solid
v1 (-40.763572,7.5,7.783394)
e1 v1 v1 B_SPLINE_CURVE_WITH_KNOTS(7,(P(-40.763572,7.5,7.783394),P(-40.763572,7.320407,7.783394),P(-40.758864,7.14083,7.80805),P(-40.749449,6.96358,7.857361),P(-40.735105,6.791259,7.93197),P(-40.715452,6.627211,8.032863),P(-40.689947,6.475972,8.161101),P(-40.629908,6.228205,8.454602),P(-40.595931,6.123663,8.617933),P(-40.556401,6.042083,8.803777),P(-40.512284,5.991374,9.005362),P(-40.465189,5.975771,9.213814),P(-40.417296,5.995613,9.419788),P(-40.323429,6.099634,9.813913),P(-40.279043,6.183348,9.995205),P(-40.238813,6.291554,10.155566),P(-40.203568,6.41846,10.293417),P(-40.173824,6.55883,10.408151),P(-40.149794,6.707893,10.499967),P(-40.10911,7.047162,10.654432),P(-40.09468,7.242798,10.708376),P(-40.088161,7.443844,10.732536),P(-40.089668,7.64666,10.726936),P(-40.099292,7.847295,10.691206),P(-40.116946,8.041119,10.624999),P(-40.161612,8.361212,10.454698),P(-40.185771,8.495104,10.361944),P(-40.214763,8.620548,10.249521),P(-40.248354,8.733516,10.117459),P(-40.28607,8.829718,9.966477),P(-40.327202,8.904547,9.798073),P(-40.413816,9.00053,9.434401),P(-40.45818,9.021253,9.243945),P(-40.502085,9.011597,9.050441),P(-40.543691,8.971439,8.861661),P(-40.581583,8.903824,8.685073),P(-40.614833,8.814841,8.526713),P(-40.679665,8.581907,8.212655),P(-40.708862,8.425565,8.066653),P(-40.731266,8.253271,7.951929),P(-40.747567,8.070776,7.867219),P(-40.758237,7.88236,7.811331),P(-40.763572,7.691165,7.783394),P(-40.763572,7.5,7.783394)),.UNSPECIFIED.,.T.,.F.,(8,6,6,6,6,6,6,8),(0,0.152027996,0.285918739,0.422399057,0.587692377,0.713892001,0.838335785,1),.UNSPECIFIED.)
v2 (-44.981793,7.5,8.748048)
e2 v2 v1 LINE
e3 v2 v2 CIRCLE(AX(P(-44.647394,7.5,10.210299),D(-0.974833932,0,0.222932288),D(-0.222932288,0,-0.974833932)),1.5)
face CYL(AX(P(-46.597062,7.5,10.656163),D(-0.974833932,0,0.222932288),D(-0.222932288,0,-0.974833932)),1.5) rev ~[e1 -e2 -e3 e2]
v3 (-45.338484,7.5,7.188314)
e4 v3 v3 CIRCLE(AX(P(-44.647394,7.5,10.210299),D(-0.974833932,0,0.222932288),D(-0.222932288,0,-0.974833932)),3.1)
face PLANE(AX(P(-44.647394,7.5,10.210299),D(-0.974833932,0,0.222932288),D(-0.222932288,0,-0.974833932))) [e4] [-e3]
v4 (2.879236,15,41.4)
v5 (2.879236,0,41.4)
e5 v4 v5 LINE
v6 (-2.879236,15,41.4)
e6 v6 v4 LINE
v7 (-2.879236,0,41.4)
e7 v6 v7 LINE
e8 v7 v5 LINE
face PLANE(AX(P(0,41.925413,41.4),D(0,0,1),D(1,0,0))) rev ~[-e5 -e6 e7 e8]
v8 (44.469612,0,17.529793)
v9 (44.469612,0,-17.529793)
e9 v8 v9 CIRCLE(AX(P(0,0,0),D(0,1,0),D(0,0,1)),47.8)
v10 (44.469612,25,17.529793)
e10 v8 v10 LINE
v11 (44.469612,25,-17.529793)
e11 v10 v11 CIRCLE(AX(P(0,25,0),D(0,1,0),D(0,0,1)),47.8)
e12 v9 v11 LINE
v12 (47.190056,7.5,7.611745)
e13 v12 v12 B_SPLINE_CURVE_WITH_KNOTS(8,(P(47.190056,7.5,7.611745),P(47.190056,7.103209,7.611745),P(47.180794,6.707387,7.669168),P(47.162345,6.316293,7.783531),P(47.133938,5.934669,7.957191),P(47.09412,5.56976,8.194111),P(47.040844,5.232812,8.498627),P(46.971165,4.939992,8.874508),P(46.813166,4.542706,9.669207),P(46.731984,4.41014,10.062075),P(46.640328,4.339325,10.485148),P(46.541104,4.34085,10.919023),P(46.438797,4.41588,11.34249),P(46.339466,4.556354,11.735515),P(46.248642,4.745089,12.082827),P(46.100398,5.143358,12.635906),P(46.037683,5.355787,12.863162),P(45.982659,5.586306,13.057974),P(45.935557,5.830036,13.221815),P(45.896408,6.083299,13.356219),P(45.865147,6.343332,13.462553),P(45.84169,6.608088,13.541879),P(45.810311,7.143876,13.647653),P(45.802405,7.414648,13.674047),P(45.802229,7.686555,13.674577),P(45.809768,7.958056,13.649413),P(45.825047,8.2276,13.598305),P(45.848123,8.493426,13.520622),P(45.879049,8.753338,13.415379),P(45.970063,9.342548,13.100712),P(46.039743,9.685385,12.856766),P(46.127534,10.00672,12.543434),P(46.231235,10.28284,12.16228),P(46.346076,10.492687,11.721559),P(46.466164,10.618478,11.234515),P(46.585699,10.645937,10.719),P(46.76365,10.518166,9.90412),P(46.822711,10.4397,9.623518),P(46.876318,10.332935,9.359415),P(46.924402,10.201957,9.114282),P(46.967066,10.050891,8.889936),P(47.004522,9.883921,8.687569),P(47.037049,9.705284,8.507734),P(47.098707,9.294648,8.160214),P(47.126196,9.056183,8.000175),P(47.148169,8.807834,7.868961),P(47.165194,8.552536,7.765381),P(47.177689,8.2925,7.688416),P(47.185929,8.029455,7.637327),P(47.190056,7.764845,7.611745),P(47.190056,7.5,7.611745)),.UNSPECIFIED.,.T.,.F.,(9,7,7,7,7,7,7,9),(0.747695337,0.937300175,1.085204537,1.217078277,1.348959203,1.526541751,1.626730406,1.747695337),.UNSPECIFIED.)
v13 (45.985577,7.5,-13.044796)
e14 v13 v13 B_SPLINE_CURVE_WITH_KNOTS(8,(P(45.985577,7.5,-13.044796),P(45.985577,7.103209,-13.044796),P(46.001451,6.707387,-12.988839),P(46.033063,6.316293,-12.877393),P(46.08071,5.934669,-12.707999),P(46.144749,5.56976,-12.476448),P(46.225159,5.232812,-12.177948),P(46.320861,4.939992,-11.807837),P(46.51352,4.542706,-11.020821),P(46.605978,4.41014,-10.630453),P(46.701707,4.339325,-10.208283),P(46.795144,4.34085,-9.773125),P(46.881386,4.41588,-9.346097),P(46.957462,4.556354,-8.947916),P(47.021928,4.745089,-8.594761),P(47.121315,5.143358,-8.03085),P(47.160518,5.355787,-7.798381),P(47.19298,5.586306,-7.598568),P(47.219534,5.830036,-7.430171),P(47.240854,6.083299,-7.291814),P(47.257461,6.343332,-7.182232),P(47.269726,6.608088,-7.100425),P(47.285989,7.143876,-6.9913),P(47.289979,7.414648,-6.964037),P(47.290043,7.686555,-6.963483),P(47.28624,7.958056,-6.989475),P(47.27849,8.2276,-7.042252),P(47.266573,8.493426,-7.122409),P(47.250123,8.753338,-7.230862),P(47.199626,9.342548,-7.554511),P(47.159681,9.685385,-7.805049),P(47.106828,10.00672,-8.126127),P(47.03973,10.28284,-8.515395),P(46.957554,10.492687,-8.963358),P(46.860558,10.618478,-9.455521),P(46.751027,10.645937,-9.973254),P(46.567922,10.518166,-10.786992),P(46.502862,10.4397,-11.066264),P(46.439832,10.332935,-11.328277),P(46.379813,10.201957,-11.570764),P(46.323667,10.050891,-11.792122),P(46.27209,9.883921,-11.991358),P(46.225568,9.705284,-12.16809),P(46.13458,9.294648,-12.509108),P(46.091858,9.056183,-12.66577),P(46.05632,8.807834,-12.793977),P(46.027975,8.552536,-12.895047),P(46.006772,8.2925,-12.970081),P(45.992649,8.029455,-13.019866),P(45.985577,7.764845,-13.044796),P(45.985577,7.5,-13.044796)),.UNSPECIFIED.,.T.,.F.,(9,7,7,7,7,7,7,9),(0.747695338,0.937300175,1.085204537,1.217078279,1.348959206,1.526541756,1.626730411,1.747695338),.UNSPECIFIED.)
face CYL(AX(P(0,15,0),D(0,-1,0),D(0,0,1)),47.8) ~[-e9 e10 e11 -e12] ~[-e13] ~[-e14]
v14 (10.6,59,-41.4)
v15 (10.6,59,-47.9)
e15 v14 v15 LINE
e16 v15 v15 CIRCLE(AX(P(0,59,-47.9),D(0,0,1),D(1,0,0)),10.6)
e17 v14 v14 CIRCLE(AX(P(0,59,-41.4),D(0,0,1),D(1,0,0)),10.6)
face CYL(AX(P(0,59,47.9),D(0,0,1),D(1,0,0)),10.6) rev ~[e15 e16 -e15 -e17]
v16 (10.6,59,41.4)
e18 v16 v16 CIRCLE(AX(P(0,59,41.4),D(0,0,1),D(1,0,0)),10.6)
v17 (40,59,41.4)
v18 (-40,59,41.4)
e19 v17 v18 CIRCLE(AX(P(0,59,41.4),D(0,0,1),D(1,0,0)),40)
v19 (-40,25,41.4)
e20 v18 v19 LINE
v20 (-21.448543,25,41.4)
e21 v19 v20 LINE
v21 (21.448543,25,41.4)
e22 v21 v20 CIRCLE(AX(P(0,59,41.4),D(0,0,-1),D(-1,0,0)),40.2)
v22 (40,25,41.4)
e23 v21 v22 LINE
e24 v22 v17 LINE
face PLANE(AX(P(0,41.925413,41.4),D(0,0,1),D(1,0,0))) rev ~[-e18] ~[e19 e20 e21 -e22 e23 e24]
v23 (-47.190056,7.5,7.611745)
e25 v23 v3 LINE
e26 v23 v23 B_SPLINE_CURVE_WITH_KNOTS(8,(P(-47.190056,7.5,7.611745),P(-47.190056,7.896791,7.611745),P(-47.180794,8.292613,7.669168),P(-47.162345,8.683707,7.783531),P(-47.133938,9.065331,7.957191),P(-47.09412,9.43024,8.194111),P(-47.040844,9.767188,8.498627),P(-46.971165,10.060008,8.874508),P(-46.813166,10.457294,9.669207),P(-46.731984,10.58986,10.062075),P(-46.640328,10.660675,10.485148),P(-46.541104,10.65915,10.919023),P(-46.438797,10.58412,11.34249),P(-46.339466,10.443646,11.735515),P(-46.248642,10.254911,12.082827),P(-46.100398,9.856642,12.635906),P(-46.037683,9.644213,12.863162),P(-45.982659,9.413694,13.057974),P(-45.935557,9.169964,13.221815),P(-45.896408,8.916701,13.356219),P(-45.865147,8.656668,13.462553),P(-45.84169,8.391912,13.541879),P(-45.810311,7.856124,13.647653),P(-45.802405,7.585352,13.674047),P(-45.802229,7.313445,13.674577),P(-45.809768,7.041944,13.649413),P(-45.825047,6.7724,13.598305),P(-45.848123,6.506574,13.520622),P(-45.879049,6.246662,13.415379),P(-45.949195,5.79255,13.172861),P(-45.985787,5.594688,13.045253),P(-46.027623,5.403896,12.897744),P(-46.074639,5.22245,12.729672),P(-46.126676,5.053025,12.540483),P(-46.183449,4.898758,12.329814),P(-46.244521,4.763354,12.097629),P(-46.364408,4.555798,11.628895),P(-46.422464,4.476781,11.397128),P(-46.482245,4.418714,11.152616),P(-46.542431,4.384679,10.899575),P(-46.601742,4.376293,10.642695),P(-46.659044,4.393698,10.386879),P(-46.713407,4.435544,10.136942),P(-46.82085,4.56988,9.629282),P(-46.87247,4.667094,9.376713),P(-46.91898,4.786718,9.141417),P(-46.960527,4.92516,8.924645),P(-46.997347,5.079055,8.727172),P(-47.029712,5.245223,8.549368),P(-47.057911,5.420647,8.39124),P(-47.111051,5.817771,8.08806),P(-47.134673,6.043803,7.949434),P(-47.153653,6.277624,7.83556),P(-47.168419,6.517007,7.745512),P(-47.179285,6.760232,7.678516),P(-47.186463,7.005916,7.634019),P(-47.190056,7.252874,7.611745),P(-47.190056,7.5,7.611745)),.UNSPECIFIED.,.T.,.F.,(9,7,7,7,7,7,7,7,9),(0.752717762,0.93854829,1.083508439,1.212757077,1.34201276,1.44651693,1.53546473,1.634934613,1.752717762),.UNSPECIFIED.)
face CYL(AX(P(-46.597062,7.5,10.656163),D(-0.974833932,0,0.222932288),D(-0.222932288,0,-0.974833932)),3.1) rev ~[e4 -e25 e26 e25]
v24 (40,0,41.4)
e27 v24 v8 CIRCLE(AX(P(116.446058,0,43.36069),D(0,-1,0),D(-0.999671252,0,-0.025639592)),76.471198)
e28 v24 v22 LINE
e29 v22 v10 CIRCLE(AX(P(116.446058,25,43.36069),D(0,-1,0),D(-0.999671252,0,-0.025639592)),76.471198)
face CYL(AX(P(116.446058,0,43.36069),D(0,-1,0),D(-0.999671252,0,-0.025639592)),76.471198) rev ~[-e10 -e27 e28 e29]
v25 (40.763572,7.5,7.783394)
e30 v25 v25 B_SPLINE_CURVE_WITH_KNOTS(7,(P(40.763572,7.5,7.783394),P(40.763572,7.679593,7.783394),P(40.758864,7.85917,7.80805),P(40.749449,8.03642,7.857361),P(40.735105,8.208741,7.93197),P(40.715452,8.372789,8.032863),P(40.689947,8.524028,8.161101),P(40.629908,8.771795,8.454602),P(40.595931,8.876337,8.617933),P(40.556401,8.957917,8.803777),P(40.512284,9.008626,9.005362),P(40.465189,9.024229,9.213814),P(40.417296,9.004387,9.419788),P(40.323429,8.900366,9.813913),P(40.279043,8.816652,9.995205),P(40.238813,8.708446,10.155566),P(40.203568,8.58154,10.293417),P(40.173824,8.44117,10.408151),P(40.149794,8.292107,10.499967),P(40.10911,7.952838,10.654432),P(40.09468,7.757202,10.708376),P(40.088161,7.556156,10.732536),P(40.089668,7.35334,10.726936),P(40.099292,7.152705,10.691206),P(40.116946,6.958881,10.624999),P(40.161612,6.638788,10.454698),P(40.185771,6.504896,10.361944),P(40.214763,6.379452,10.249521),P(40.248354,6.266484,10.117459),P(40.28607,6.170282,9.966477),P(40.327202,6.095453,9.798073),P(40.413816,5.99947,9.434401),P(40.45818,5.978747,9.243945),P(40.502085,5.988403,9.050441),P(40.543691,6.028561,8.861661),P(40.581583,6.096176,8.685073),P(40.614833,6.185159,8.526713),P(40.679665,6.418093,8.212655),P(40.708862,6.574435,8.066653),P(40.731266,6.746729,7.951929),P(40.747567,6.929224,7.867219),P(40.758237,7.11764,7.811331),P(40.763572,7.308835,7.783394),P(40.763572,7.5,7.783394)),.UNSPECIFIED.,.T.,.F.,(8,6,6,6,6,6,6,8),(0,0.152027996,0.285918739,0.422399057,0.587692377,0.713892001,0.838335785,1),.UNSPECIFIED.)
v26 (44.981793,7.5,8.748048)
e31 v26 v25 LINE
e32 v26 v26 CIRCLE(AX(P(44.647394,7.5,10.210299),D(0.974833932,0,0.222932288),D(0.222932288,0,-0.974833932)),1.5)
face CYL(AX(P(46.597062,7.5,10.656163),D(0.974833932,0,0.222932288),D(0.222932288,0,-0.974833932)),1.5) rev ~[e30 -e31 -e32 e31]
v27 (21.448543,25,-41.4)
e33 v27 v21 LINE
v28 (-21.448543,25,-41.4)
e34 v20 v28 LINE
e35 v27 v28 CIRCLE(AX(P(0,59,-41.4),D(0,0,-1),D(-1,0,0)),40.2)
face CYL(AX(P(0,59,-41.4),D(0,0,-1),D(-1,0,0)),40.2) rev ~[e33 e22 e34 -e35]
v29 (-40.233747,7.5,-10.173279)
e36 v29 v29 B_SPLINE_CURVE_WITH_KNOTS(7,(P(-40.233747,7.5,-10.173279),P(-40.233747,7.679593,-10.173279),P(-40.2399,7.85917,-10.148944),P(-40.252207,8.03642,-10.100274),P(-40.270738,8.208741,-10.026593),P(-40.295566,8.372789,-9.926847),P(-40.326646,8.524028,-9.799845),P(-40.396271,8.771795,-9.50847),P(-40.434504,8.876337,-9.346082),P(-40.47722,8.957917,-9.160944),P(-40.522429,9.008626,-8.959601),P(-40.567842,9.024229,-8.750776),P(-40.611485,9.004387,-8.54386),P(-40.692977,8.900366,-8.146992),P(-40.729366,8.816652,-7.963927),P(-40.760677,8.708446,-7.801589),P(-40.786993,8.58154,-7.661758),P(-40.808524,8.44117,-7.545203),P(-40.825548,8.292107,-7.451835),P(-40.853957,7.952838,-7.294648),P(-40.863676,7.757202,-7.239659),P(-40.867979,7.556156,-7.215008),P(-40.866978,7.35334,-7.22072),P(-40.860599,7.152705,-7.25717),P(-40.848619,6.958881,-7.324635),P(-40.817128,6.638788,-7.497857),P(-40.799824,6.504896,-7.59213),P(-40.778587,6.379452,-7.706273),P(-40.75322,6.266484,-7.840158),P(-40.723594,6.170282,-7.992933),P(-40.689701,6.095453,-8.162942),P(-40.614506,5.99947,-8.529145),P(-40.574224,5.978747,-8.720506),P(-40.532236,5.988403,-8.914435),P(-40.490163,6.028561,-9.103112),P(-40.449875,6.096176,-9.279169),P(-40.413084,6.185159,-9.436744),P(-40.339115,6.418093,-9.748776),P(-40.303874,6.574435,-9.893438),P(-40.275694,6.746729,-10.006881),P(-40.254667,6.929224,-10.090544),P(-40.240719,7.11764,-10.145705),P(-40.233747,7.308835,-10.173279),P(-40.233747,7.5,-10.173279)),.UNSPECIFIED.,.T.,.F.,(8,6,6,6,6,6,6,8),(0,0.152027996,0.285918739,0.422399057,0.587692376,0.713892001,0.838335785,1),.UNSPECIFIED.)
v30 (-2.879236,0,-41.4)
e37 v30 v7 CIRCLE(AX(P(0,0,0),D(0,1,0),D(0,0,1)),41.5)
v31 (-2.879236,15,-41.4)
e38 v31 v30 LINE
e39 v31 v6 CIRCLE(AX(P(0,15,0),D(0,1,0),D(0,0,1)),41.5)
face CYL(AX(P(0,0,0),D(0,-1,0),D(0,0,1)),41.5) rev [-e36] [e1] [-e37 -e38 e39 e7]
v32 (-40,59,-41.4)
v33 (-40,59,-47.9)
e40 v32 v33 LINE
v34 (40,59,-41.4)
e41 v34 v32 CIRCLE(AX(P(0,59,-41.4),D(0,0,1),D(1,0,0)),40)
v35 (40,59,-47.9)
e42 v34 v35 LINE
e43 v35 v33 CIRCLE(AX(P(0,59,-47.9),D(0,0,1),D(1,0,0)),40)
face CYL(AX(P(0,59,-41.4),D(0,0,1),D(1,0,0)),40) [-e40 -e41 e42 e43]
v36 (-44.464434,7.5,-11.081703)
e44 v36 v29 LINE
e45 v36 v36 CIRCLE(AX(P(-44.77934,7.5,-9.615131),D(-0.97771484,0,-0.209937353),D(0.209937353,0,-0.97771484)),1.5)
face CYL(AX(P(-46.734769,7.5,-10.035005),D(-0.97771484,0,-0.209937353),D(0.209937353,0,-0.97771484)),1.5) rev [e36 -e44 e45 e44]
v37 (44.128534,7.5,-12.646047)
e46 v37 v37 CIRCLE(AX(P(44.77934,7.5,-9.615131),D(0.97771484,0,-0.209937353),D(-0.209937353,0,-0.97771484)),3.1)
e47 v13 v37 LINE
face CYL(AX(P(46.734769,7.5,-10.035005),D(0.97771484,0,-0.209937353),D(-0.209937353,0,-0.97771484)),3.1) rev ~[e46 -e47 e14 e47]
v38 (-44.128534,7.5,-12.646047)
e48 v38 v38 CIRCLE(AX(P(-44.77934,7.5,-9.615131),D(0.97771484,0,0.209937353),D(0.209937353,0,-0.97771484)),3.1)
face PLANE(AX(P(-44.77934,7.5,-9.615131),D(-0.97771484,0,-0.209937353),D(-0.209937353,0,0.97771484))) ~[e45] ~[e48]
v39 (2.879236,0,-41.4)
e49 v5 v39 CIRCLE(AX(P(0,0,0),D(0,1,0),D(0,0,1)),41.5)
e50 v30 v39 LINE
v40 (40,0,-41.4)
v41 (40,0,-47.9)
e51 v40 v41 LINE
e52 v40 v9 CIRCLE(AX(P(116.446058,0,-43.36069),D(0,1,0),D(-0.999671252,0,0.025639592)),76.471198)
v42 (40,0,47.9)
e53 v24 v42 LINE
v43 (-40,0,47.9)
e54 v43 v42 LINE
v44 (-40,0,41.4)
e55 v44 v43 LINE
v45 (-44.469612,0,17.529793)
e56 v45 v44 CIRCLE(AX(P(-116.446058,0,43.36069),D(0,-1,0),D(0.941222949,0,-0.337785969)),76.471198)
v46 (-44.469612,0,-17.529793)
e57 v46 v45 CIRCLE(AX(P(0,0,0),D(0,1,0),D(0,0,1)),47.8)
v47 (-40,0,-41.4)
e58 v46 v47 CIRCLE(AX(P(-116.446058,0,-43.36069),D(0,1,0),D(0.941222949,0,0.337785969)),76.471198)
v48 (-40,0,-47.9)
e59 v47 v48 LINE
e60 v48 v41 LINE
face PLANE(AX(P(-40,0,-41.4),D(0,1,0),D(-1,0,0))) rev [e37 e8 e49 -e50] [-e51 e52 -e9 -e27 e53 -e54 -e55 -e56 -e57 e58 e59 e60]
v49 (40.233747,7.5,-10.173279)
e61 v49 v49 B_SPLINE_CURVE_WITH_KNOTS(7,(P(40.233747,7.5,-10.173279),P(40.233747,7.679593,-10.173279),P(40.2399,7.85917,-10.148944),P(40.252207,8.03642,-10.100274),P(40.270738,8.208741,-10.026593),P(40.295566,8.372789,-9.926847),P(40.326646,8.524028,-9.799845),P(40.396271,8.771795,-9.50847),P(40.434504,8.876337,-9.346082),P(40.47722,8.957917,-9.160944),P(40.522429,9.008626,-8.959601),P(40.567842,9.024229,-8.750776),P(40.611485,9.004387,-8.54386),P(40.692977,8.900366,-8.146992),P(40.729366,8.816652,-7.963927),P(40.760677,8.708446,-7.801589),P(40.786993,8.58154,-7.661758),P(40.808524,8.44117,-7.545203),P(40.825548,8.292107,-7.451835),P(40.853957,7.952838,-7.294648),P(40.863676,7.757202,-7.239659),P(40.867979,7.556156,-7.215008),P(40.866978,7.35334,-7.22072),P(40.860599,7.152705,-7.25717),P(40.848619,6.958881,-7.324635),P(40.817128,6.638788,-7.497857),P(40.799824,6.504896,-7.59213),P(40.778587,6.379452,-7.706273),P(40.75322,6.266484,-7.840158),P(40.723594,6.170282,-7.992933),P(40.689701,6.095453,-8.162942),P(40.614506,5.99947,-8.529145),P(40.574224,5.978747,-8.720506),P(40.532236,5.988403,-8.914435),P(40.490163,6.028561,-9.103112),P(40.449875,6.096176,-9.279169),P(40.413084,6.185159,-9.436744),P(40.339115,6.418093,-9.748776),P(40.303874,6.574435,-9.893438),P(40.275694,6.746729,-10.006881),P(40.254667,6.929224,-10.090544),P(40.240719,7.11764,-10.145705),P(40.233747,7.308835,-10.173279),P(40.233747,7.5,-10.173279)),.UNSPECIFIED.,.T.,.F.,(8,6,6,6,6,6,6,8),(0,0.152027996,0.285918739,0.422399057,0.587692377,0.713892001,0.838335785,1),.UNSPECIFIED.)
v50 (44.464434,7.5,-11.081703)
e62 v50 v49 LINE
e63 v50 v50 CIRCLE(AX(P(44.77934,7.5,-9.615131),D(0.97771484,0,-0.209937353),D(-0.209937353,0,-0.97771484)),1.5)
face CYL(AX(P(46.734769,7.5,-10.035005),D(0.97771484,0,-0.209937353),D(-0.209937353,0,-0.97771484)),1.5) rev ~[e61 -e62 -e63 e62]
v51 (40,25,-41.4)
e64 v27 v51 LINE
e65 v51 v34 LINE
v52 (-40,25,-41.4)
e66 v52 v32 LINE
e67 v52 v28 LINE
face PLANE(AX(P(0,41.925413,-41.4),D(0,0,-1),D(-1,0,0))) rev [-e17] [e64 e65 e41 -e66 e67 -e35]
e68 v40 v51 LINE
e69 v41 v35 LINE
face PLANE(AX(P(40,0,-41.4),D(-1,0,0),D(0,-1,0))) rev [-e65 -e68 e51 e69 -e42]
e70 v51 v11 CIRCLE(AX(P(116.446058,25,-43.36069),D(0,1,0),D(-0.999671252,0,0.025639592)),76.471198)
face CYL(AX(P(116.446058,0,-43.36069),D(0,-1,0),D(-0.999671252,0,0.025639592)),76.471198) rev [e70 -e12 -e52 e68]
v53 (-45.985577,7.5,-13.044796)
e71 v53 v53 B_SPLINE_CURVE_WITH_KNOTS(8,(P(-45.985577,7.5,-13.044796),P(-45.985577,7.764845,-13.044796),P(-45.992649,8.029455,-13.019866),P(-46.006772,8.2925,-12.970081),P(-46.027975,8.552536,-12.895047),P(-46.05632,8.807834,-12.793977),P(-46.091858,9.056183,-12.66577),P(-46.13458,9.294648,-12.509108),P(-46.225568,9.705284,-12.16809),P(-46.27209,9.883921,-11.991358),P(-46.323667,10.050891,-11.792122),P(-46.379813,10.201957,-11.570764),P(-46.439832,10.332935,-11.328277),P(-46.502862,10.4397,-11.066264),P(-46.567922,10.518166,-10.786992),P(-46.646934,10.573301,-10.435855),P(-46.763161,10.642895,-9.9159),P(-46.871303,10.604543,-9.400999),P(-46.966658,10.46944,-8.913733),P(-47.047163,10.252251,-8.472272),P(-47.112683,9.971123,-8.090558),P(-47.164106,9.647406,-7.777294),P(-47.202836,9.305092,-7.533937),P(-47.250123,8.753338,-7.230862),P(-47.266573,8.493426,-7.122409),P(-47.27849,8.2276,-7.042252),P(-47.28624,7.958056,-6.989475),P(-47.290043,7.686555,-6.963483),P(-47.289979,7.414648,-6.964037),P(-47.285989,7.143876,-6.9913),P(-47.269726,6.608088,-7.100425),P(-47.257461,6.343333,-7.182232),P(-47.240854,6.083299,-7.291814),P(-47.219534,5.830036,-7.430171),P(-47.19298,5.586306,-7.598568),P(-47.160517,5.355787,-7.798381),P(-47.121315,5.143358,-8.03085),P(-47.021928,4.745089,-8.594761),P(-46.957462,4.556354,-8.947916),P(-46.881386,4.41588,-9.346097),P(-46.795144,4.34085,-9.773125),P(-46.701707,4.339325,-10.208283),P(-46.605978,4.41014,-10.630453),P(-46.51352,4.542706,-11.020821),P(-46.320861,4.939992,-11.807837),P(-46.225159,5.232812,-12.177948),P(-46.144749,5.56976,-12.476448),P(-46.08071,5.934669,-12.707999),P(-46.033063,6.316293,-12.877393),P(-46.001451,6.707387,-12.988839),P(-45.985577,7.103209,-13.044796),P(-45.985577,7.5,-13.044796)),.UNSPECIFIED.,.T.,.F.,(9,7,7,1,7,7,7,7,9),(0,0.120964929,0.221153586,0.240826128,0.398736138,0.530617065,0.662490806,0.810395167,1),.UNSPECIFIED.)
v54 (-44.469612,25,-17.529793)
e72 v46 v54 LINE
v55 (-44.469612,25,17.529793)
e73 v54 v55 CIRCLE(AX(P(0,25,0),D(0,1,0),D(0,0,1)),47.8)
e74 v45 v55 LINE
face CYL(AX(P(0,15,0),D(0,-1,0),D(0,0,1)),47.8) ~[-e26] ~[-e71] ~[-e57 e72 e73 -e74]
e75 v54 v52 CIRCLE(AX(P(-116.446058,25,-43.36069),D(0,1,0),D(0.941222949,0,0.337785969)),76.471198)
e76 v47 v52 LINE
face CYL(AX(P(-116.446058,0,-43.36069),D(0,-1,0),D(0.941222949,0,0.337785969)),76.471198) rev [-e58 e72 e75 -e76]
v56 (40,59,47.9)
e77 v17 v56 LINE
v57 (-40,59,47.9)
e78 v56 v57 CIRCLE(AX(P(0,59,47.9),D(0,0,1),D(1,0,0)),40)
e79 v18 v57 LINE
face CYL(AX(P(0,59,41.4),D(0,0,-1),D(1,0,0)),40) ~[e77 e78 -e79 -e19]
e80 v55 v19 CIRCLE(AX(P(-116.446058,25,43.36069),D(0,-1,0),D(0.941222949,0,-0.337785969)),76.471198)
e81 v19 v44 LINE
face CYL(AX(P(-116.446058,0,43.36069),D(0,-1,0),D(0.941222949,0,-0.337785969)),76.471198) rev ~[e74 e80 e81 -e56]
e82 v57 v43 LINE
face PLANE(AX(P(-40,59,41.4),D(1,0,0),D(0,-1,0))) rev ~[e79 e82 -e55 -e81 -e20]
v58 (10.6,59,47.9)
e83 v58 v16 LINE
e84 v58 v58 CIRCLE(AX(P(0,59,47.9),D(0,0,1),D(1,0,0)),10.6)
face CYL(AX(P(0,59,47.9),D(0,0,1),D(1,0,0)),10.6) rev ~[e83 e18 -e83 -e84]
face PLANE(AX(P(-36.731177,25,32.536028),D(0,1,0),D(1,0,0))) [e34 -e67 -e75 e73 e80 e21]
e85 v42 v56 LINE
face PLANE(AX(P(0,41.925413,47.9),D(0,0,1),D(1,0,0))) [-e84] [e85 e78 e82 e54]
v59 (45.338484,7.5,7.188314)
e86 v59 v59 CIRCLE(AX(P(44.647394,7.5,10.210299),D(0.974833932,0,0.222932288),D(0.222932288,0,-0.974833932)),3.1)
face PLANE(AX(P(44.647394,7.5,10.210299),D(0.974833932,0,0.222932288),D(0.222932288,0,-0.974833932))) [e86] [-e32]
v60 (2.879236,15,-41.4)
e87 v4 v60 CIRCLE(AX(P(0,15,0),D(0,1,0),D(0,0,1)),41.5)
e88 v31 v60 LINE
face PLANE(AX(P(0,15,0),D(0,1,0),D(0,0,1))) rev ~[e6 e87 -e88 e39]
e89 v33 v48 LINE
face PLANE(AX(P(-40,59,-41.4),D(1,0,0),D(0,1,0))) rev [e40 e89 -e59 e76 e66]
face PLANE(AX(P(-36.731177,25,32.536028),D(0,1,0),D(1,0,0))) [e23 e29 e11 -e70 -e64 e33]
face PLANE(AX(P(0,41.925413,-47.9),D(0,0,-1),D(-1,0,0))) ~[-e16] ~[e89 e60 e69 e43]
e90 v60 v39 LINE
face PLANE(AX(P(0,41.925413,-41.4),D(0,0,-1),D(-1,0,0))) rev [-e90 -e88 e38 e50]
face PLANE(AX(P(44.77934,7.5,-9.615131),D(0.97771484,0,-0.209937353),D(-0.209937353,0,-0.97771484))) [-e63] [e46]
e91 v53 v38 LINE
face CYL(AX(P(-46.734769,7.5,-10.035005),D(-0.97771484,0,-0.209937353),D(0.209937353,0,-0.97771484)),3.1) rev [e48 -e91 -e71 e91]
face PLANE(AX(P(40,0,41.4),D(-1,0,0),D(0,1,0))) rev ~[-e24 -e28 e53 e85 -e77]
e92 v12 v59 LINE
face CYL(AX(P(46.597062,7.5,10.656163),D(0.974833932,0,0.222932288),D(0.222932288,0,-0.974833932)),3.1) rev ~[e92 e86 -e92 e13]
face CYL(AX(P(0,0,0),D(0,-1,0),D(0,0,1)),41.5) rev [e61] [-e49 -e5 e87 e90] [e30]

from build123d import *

# Parameters (mm, degrees)
SKETCH1_R                  = 47.8
SKETCH1_R_2                = 41.5
CAP_BASE_DEPTH             = 15
SKETCH2_R                  = 47.8
CAP_TOP_DEPTH              = 10
SIDES_START                = 41.4
SIDES_DEPTH                = 6.5
SIDES_START_2              = -25
SIDES_TO_CAP_DEPTH         = 25
SKETCH5_R                  = 40.2
TRACKS_FOR_HOUSING_DEPTH   = 45
SKETCH6_R                  = 10.6
HOLE_FOR_GEAR_SHAFTS_DEPTH = 146.82002606
SKETCH9_R                  = 1.5
CUT_EXTRUDE2_DEPTH         = 10
CIRPATTERN1_COUNT          = 2
CIRPATTERN1_ANGLE          = 25
MIRROR2_COPY_1_SKETCH_R    = 1.5
MIRROR2_COPY_1_DEPTH       = 10
SKETCH10_R                 = 3.1
CUT_EXTRUDE3_DEPTH         = 2
CIRPATTERN2_COUNT          = 2
CIRPATTERN2_ANGLE          = 25
MIRROR3_COPY_1_SKETCH_R    = 3.1
MIRROR3_COPY_1_DEPTH       = 2


with BuildPart() as part:
    # Sketch1 → Cap base (new body)
    with BuildSketch(Plane(origin=(0, 0, 0), x_dir=(1, 0, 0), z_dir=(0, 1, 0))):
        with Locations(Location((0, 0, 0), (0, 0, 270))):
            Circle(SKETCH1_R)
        with Locations(Location((0, 0, 0), (0, 0, 270))):
            Circle(SKETCH1_R_2, mode=Mode.SUBTRACT)
    extrude(amount=CAP_BASE_DEPTH)

    # Sketch2 → Cap top (add)
    with BuildSketch(Plane(origin=(0, 15, 0), x_dir=(1, 0, 0), z_dir=(0, 1, 0))):
        with Locations(Location((0, 0, 0), (0, 0, 270))):
            Circle(SKETCH2_R)
    extrude(amount=CAP_TOP_DEPTH)

    # Sketch3 → Sides (add)
    with BuildSketch(Plane.XY.offset(SIDES_START)):
        with BuildLine():
            Line((-40, 59), (-40, 0))
            Line((-40, 0), (40, 0))
            Line((40, 0), (40, 59))
            ThreePointArc((40, 59), (0, 99), (-40, 59))
        make_face()
    sides = extrude(amount=SIDES_DEPTH)

    # Sketch4 → Sides to cap (add)
    with BuildSketch(Plane(origin=(0, 25, 0), x_dir=(1, 0, 0), z_dir=(0, 1, 0)).offset(SIDES_START_2)):
        with BuildLine():
            ThreePointArc((-23.893095237, -41.4), (-36.205132569, -31.209427673), (-44.469611721, -17.529792737))
            ThreePointArc((-44.469611721, -17.529792737), (-41.281194911, -29.286336098), (-40, -41.4))
            Line((-40, -41.4), (-23.893095237, -41.4))
        make_face()
        with BuildLine():
            Line((23.893095237, -41.4), (40, -41.4))
            ThreePointArc((40, -41.4), (41.281194911, -29.286336098), (44.469611721, -17.529792737))
            ThreePointArc((44.469611721, -17.529792737), (36.205132569, -31.209427673), (23.893095237, -41.4))
        make_face()
    sides_to_cap = extrude(amount=SIDES_TO_CAP_DEPTH)

    # Mirror1: Sides to cap across plane
    add(sides_to_cap.mirror(Plane.XY))

    # Mirror sides: Sides across plane
    add(sides.mirror(Plane.XY))

    # Sketch5 → Tracks for housing (cut)
    with BuildSketch(Plane(origin=(0, 0, 41.4), x_dir=(-1, 0, 0), z_dir=(0, 0, -1))):
        with Locations((0, 59)):
            Circle(SKETCH5_R)
    tracks_for_housing = extrude(amount=TRACKS_FOR_HOUSING_DEPTH, mode=Mode.SUBTRACT)

    # Mirror tracks: Tracks for housing across plane
    add(tracks_for_housing.mirror(Plane.XY), mode=Mode.SUBTRACT)

    # Sketch6 → Hole for gear shafts (cut, through all)
    with BuildSketch(Plane.XY.offset(47.9)):
        with Locations((0, 59)):
            Circle(SKETCH6_R)
    extrude(amount=-HOLE_FOR_GEAR_SHAFTS_DEPTH, mode=Mode.SUBTRACT)

    # Sketch9 → Cut-Extrude2 (cut)
    with BuildSketch(Plane(origin=(46.73476934, 0, -10.035005469), x_dir=(-0.20993735290442256, 0, -0.9777148397439225), z_dir=(0.9777148397439225, 0, -0.20993735290442256))):
        with Locations((0, 7.5)):
            Circle(SKETCH9_R)
    cut_extrude2 = extrude(amount=-CUT_EXTRUDE2_DEPTH, mode=Mode.SUBTRACT)

    # CirPattern1: Cut-Extrude2 ×2 about axis
    cirpattern1_axis = Axis((0, 15, 0), (0, -1, 0))
    for i in range(1, CIRPATTERN1_COUNT):
        add(cut_extrude2.rotate(cirpattern1_axis, i * CIRPATTERN1_ANGLE / (CIRPATTERN1_COUNT - 1)), mode=Mode.SUBTRACT)

    # Mirror2: Cut-Extrude2 across plane
    add(cut_extrude2.mirror(Plane(origin=(0, 0, 0), x_dir=(0, 0, 1), z_dir=(1, 0, 0))), mode=Mode.SUBTRACT)

    # Mirror2 copy 1 sketch → Mirror2 copy 1 (cut)
    with BuildSketch(Plane(origin=(-46.597061946, 0, 10.656163382), x_dir=(-0.2229322883235245, 0, -0.9748339319201179), z_dir=(-0.9748339319201179, 0, 0.2229322883235245))):
        with Locations((0, -7.5)):
            Circle(MIRROR2_COPY_1_SKETCH_R)
    extrude(amount=-MIRROR2_COPY_1_DEPTH, mode=Mode.SUBTRACT)

    # Sketch10 → Cut-Extrude3 (cut)
    with BuildSketch(Plane(origin=(46.73476934, 0, -10.035005469), x_dir=(-0.20993735290442256, 0, -0.9777148397439225), z_dir=(0.9777148397439225, 0, -0.20993735290442256))):
        with Locations((0, 7.5)):
            Circle(SKETCH10_R)
    cut_extrude3 = extrude(amount=-CUT_EXTRUDE3_DEPTH, mode=Mode.SUBTRACT)

    # CirPattern2: Cut-Extrude3 ×2 about axis
    cirpattern2_axis = Axis((0, 15, 0), (0, -1, 0))
    for i in range(1, CIRPATTERN2_COUNT):
        add(cut_extrude3.rotate(cirpattern2_axis, i * CIRPATTERN2_ANGLE / (CIRPATTERN2_COUNT - 1)), mode=Mode.SUBTRACT)

    # Mirror3: Cut-Extrude3 across plane
    add(cut_extrude3.mirror(Plane(origin=(0, 0, 0), x_dir=(0, 0, 1), z_dir=(1, 0, 0))), mode=Mode.SUBTRACT)

    # Mirror3 copy 1 sketch → Mirror3 copy 1 (cut)
    with BuildSketch(Plane(origin=(-46.597061946, 0, 10.656163382), x_dir=(-0.22293228832352457, 0, -0.9748339319201178), z_dir=(-0.9748339319201178, 0, 0.22293228832352457))):
        with Locations((0, -7.5)):
            Circle(MIRROR3_COPY_1_SKETCH_R)
    extrude(amount=-MIRROR3_COPY_1_DEPTH, mode=Mode.SUBTRACT)


solid = part.part
